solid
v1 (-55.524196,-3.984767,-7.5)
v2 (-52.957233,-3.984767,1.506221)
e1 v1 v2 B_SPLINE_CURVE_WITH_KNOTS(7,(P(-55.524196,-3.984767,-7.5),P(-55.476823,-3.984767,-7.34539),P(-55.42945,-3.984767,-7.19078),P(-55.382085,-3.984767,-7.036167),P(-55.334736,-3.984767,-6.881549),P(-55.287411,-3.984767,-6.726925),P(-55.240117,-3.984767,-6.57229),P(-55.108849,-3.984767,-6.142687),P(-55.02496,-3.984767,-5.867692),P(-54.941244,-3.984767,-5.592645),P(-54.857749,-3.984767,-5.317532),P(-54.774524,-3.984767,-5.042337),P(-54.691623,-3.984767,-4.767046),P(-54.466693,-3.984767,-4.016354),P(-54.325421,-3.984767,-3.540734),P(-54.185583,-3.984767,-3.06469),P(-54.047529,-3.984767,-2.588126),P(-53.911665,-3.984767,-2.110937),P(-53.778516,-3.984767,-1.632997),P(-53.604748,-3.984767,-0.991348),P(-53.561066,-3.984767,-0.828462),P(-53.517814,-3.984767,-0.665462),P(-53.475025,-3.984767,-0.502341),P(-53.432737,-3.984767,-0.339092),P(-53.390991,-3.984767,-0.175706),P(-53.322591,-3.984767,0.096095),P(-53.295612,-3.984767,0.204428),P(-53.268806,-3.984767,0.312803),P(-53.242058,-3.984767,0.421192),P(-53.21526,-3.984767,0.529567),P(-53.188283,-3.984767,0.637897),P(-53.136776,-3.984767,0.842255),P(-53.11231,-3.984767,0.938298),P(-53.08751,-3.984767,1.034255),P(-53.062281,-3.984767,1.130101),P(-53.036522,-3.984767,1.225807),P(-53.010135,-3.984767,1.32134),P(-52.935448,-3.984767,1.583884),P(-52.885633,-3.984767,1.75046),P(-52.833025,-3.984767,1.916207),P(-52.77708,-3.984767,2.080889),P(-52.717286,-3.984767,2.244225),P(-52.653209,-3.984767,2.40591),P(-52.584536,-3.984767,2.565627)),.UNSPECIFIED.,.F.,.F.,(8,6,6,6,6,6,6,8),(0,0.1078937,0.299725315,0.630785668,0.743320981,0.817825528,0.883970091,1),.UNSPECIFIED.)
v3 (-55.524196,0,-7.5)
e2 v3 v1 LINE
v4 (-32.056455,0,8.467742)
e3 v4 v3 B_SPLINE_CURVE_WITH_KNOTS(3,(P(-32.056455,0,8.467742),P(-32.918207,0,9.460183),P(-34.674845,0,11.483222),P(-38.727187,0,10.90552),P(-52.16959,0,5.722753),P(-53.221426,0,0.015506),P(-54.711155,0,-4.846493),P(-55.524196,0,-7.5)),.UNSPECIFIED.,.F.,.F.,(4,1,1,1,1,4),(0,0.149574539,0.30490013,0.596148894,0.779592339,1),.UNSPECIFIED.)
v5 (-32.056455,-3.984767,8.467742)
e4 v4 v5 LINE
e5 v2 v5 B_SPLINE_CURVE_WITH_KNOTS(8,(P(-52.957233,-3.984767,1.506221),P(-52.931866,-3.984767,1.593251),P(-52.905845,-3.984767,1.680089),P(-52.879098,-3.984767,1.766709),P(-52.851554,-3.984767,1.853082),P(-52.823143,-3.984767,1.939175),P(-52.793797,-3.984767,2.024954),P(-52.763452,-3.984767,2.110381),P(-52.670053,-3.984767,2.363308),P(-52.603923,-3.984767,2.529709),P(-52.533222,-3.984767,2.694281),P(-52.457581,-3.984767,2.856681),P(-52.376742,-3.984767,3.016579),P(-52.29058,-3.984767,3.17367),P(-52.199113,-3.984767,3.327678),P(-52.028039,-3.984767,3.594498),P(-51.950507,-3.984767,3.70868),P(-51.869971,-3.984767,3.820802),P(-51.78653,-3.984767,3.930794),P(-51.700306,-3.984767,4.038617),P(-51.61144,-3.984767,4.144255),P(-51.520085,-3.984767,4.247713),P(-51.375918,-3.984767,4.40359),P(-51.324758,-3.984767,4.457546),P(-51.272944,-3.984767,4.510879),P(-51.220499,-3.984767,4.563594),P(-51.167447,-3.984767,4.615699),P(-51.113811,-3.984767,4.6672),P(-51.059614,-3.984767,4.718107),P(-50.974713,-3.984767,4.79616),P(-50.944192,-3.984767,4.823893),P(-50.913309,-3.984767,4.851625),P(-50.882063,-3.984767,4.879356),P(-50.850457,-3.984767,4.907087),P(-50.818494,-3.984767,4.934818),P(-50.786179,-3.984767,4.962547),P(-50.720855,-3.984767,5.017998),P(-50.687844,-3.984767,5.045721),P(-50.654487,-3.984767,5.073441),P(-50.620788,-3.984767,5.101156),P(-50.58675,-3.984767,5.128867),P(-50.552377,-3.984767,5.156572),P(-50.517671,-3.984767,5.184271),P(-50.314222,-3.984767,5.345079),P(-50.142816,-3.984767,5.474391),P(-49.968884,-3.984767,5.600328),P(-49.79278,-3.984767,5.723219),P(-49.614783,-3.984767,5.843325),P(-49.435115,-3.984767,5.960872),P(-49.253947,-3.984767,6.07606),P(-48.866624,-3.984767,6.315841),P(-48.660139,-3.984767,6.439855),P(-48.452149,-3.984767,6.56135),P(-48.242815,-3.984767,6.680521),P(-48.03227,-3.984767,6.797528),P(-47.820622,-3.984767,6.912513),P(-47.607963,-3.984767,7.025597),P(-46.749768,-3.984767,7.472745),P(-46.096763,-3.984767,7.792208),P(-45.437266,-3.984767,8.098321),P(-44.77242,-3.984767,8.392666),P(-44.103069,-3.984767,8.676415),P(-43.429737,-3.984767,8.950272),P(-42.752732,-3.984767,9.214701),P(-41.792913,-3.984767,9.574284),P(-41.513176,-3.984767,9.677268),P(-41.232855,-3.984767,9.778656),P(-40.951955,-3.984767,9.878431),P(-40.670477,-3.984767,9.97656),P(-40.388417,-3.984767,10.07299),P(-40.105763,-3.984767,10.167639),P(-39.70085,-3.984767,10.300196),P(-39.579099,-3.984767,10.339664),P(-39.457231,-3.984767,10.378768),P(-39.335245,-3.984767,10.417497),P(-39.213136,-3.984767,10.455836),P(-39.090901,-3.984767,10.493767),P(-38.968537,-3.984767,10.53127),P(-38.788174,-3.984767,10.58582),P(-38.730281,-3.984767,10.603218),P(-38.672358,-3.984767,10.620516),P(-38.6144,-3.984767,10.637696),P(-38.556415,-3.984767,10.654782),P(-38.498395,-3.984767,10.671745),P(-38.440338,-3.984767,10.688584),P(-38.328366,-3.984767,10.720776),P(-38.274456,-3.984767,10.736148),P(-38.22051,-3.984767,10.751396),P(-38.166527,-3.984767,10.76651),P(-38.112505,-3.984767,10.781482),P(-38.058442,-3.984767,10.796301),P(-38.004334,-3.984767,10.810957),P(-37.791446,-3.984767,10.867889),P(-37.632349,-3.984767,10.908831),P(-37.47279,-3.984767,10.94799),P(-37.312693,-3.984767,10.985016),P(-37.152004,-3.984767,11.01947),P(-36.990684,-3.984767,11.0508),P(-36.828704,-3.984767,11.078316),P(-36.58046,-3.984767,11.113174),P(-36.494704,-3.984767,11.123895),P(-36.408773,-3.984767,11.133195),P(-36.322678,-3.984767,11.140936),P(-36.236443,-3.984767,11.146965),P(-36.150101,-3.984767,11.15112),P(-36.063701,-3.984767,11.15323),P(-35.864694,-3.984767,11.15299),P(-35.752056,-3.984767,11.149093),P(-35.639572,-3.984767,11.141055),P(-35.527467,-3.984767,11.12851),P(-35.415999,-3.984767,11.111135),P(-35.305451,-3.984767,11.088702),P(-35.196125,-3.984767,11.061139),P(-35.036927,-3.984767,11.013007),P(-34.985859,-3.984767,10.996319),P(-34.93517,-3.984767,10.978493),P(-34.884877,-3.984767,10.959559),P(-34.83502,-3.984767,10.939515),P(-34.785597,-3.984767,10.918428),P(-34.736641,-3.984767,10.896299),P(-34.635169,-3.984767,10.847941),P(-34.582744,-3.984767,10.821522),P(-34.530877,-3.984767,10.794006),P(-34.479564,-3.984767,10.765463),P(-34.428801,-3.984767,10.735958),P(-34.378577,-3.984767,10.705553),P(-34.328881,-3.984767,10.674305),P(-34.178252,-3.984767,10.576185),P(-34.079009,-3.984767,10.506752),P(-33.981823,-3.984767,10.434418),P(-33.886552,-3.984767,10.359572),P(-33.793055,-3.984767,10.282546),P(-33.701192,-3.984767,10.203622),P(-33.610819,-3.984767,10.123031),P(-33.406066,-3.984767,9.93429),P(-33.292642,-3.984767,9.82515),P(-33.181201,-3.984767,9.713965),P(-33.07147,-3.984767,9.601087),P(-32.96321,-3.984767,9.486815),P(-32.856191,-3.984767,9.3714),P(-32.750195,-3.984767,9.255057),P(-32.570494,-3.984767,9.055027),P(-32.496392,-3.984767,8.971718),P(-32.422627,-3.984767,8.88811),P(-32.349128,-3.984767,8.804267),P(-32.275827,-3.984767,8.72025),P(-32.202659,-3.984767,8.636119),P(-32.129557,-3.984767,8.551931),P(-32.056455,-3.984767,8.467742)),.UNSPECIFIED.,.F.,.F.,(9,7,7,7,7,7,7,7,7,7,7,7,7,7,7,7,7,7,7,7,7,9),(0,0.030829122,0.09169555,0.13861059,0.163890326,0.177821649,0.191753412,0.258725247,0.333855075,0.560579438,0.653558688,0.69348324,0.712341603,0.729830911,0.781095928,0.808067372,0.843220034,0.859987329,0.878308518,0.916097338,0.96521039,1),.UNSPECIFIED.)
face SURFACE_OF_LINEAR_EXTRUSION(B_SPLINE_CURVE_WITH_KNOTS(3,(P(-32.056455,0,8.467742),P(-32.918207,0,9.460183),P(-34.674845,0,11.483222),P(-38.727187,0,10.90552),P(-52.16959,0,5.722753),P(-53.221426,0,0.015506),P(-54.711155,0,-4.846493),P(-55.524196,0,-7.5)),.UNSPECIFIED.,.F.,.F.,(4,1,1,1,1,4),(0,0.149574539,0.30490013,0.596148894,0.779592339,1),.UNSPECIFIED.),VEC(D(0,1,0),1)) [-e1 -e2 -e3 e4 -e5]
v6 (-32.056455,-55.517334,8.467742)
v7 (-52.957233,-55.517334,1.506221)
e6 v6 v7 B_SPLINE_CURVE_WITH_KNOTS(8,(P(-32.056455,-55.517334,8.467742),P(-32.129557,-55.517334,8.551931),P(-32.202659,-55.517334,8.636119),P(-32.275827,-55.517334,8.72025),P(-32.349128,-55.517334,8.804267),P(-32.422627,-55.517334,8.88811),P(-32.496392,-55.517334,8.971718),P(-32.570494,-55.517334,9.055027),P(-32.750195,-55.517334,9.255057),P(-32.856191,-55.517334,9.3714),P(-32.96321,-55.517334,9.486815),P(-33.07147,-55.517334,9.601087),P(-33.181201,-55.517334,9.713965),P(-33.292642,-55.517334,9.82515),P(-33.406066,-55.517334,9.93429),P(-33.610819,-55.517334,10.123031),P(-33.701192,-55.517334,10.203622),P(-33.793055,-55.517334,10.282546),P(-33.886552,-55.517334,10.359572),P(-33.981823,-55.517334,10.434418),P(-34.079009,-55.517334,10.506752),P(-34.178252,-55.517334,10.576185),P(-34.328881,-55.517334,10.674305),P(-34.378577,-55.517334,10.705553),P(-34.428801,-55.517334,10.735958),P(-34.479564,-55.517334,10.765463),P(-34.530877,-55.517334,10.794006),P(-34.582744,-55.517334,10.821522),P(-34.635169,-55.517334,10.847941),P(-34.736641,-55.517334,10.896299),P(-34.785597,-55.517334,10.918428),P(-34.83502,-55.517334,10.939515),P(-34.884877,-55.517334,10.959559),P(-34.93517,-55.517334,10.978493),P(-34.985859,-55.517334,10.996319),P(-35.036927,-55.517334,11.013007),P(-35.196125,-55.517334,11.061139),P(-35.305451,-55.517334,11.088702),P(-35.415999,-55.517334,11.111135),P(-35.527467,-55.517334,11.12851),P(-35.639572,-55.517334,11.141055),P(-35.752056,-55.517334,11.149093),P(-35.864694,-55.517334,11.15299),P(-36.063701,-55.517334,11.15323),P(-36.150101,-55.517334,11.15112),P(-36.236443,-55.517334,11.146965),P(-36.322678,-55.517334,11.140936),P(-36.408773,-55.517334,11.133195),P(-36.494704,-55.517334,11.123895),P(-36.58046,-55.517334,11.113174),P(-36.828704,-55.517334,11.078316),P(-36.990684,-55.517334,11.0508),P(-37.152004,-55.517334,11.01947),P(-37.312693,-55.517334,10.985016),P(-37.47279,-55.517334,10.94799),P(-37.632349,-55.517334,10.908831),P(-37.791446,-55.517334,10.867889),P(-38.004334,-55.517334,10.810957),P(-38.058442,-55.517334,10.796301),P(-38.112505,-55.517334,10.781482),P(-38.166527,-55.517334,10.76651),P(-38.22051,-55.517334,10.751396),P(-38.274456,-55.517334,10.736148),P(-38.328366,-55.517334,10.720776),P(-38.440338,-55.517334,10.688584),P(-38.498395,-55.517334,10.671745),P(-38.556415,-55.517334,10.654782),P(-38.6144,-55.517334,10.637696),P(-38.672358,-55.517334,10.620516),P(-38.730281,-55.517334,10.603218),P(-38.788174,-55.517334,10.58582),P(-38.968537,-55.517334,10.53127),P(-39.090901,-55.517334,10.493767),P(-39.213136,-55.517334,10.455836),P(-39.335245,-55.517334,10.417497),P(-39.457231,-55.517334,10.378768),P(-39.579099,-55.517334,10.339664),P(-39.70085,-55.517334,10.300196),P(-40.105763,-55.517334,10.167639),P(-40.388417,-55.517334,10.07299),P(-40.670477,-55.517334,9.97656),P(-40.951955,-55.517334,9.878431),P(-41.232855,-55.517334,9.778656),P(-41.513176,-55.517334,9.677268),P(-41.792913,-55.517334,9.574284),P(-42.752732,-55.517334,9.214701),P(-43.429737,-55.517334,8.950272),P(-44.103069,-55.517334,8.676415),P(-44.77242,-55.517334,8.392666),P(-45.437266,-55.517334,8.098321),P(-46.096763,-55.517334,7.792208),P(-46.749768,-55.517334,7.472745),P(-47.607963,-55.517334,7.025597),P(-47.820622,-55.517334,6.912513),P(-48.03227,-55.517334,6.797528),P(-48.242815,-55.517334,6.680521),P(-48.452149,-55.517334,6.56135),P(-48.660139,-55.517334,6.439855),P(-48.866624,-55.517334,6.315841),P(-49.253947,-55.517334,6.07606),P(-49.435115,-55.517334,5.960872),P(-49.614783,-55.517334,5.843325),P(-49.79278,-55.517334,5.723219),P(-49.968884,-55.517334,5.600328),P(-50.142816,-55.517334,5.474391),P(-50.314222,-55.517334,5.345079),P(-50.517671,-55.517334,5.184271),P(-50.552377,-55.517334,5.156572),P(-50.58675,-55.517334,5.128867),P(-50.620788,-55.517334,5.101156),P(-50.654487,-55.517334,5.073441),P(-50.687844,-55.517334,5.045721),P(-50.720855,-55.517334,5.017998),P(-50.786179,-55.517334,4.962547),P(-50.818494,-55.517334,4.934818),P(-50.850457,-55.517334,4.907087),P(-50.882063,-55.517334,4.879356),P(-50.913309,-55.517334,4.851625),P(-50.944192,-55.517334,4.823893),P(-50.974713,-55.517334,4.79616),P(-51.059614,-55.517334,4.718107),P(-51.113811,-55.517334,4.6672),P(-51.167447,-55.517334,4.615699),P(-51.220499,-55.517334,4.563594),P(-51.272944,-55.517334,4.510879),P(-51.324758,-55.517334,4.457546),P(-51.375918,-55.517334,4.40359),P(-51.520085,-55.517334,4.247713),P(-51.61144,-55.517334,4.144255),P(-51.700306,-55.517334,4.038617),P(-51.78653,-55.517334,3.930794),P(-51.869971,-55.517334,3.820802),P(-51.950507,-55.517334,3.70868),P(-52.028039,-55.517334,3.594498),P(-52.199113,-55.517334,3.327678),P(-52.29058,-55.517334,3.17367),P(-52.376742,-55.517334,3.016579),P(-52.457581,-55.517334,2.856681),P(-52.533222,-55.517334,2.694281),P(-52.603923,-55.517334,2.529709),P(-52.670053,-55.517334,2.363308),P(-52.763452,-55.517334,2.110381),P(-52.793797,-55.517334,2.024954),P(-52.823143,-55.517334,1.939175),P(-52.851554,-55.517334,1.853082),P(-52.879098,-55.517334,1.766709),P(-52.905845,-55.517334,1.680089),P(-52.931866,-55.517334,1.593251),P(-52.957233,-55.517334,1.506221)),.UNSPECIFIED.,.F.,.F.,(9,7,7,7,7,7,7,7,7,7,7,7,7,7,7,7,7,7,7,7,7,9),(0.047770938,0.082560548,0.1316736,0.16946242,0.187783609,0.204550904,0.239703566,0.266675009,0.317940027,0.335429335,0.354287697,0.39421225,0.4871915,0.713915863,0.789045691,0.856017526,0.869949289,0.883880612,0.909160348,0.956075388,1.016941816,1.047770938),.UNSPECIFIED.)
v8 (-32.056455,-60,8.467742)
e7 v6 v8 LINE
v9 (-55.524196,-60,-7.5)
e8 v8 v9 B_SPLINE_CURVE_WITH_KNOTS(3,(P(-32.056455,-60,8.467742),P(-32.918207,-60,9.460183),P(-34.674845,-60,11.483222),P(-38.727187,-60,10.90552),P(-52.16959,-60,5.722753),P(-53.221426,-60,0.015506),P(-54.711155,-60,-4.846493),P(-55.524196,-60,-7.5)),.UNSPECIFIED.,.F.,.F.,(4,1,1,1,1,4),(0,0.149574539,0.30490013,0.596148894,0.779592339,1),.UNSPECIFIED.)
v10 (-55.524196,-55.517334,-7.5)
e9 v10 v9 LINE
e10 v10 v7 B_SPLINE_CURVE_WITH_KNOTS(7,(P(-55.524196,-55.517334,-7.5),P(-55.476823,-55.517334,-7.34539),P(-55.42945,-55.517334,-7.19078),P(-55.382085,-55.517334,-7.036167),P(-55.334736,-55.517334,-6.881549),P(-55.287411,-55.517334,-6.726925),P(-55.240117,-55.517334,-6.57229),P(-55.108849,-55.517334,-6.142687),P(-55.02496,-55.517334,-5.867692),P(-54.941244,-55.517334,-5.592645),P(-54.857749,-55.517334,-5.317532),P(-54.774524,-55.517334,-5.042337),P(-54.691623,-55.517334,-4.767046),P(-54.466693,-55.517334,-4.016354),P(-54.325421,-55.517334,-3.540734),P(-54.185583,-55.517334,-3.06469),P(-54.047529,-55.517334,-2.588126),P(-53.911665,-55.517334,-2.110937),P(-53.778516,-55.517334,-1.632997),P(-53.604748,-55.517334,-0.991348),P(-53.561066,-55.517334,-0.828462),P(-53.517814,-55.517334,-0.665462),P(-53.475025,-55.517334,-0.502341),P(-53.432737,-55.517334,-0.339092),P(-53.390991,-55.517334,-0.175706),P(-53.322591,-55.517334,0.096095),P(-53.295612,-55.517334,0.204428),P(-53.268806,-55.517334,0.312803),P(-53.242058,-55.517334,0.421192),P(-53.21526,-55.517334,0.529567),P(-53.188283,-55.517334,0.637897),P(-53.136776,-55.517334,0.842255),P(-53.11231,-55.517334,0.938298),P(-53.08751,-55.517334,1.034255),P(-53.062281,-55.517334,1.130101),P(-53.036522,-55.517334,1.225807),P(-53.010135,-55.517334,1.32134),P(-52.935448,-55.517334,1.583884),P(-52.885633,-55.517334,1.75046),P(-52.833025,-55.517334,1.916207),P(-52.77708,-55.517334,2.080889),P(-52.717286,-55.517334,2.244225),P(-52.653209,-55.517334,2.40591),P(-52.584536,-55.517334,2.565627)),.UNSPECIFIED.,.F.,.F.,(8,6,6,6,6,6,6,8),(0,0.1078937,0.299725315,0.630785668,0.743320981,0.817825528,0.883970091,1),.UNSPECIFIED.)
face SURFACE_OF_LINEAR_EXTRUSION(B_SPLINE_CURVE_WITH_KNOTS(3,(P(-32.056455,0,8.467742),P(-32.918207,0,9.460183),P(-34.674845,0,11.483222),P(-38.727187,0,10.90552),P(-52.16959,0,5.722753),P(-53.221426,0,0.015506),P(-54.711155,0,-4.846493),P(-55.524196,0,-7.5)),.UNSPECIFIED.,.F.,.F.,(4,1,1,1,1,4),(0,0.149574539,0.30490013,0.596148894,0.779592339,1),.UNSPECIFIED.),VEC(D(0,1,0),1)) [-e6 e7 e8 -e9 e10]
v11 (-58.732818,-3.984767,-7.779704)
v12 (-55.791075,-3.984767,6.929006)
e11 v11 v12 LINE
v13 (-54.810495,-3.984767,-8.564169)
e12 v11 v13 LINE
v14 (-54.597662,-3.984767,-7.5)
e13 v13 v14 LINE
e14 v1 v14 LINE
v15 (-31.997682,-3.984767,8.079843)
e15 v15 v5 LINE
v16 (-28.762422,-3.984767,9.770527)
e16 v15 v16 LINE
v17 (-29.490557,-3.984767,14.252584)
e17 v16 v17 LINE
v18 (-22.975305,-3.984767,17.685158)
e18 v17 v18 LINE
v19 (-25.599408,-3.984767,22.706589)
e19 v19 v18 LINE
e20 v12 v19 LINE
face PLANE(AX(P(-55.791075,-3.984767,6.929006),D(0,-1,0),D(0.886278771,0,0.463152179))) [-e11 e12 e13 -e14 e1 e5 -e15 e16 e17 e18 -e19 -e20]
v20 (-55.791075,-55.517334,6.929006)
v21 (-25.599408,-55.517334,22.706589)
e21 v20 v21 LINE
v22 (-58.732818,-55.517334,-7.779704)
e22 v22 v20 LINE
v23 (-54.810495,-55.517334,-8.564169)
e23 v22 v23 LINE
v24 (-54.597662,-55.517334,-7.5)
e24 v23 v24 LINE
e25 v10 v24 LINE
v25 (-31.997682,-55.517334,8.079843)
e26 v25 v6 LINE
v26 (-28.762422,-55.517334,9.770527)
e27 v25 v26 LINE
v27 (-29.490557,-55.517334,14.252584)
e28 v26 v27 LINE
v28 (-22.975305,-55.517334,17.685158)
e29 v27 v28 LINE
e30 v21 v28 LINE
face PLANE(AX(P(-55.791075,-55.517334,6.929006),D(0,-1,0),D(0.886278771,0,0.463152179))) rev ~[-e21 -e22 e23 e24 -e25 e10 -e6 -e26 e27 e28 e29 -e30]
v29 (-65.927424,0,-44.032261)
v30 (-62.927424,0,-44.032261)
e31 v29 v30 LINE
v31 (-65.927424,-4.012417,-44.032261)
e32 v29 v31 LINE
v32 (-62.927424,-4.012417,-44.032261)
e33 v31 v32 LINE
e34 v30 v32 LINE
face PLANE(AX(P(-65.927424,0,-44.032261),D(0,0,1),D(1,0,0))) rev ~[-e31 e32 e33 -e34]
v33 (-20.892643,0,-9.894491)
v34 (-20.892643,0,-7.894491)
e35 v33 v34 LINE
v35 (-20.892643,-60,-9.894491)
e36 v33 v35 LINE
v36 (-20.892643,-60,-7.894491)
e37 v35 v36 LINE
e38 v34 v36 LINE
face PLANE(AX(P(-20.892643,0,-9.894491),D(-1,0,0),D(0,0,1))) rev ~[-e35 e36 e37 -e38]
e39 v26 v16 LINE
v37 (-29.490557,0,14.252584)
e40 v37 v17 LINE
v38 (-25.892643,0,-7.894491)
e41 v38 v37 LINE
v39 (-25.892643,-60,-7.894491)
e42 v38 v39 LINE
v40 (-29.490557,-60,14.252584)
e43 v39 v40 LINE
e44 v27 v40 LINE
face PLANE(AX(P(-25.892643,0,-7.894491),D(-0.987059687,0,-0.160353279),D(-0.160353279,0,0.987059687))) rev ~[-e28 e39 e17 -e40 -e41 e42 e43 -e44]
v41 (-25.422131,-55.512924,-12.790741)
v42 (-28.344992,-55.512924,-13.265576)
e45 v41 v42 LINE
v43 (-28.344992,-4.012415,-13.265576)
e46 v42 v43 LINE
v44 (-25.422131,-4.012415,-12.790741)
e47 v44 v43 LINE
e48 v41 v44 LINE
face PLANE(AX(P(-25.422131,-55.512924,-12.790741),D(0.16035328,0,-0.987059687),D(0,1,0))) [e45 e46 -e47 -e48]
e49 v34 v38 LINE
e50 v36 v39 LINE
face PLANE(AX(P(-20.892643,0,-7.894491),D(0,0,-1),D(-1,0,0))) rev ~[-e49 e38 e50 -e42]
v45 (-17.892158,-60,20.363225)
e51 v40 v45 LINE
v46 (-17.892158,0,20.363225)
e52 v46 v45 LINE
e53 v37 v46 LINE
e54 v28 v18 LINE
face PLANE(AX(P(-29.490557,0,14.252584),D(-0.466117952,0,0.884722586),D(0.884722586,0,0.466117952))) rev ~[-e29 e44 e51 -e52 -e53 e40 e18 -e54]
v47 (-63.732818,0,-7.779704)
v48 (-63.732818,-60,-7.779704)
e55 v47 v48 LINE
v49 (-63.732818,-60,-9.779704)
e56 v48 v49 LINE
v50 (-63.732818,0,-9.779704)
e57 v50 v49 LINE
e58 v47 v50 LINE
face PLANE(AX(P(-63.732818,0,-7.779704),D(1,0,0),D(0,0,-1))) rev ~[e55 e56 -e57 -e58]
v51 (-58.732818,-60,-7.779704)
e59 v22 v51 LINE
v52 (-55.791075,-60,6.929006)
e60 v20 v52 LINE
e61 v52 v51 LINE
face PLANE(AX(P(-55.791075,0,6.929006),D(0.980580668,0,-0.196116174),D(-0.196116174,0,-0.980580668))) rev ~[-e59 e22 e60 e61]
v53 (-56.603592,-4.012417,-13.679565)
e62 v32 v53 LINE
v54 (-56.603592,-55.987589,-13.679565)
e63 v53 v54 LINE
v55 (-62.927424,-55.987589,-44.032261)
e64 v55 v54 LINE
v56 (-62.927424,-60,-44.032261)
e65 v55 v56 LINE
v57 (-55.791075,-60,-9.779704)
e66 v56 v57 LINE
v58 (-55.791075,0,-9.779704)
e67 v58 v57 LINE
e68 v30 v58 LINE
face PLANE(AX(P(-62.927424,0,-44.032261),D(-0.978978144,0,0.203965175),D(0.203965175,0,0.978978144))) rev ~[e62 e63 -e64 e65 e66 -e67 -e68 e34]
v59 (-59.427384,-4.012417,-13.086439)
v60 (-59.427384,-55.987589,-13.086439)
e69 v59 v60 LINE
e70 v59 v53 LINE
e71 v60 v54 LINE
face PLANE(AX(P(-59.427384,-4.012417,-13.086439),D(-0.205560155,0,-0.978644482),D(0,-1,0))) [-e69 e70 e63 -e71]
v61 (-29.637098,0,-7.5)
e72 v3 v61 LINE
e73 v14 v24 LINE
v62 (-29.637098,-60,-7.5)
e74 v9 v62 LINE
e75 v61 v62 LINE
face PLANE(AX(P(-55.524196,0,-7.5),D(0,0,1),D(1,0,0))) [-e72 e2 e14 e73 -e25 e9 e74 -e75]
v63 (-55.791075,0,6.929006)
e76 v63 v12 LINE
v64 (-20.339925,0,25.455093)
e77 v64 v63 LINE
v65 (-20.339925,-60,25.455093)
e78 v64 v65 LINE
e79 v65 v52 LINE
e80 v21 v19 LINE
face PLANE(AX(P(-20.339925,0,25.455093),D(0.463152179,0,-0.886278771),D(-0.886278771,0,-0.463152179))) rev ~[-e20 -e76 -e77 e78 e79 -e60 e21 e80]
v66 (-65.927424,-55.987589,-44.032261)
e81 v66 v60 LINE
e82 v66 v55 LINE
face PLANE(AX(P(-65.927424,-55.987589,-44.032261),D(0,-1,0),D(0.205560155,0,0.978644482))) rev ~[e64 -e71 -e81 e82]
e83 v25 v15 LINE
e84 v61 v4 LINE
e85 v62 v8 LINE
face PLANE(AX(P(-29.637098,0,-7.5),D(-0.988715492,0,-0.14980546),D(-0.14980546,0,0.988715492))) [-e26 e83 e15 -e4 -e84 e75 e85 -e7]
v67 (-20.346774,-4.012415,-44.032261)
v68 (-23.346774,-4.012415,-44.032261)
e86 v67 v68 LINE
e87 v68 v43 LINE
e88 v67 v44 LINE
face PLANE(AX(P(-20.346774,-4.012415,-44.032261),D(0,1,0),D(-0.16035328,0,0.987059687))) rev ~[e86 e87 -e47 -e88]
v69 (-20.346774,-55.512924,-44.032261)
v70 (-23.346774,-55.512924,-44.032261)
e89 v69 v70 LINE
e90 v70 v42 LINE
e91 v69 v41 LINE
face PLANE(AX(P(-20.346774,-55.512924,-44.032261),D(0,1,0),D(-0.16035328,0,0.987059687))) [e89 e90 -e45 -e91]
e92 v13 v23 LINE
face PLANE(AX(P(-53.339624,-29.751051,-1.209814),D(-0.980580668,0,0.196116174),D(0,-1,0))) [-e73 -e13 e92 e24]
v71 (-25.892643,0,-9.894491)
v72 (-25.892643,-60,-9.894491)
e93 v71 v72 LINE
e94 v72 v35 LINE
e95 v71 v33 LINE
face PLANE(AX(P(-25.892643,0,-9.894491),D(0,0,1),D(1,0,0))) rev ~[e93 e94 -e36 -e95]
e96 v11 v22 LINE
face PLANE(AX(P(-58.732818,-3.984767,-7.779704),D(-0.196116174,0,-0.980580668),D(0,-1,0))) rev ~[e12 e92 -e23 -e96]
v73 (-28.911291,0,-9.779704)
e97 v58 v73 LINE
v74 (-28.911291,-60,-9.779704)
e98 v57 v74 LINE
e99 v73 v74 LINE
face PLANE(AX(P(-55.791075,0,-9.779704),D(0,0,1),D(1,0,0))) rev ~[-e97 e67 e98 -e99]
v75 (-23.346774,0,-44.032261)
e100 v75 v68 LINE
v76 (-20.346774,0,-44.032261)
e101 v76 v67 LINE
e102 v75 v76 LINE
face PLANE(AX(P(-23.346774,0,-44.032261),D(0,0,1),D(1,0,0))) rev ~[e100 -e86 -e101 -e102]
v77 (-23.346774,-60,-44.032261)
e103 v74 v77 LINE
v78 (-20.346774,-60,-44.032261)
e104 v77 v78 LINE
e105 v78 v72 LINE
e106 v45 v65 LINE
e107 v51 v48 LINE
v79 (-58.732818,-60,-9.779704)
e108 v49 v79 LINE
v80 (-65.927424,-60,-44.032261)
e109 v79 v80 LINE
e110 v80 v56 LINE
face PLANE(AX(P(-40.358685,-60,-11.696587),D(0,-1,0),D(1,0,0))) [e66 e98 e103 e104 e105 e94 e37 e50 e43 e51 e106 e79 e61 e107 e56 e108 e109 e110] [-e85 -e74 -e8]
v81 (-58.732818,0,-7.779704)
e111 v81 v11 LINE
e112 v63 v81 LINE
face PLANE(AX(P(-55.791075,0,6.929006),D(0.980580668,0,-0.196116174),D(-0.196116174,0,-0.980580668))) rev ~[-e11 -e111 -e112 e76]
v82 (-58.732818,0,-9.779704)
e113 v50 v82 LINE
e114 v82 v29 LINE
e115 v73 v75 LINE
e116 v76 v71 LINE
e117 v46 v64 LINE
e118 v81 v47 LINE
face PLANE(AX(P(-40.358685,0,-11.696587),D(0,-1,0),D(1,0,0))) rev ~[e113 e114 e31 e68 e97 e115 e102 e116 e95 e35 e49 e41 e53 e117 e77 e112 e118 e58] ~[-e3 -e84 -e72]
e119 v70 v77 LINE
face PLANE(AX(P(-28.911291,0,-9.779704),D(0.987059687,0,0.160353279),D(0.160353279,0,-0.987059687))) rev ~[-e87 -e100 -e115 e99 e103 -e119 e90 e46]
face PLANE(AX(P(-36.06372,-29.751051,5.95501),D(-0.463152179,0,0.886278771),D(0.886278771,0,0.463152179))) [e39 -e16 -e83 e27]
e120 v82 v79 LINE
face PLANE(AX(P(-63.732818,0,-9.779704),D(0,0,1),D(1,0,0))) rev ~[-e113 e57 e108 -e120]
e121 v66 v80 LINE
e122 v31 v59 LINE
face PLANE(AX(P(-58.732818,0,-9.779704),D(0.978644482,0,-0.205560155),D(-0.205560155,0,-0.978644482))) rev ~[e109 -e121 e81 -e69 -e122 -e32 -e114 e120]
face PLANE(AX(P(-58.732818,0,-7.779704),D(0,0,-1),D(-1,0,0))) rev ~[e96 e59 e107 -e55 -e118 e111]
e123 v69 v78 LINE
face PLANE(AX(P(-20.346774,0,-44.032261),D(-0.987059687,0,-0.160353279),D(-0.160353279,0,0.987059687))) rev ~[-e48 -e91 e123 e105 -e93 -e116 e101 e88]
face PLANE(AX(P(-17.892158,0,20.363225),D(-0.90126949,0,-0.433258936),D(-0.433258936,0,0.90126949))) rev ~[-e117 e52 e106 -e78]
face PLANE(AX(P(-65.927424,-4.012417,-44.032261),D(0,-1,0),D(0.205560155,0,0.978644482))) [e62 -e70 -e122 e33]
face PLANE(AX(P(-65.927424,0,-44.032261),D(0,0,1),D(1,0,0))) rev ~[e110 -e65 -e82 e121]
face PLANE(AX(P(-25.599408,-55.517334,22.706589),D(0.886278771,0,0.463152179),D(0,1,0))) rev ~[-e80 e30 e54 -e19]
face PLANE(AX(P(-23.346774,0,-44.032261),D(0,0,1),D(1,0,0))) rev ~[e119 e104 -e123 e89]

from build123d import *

# Parameters (mm, degrees)
F2_DEPTH  = 60
F3_DEPTH  = 60
F4_W      = 34.0656559074
F4_H      = 51.5325679444
F5_DEPTH  = 10
F6_W      = 51.5325679444
F6_H      = 15
F7_DEPTH  = 4
F8_W      = 51.9751724787
F8_H      = 31.6211068177
F9_DEPTH  = 15
F10_W     = 51.5005090274
F10_H     = 31.6510945126
F11_DEPTH = 6.8


with BuildPart() as f2:
    # F0 (on Front) → F2 (new body)
    with BuildSketch(Plane.XZ):
        Polygon((-17.8921578123, 20.3632246609), (-20.3399246612, 25.4550932741), (-55.7910754849, 6.9290061191), (-58.7328180983, -7.779703899), (-63.7328180983, -7.779703899), (-63.7328180983, -9.779703899), (-58.7328180983, -9.779703899), (-65.9274235368, -44.0322607756), (-62.9274235368, -44.0322607756), (-55.7910754849, -9.779703899), (-28.9112906903, -9.779703899), (-23.3467742801, -44.0322607756), (-20.3467742801, -44.0322607756), (-25.8926429036, -9.8944909401), (-20.8926429036, -9.8944909401), (-20.8926429036, -7.8944909401), (-25.8926429036, -7.8944909401), (-29.4905570809, 14.25258365), (-20.6433312194, 18.913763174), align=None)
    extrude(amount=F2_DEPTH)

    # F1 (on Front) → F3 (cut)
    with BuildSketch(Plane.XZ):
        with BuildLine():
            add(Edge.make_bspline(
                [(-32.0564545691, 8.4677422419), (-32.9182067785, 9.4601825496), (-34.6748450566, 11.4832219038), (-38.7271868794, 10.9055197371), (-52.1695896145, 5.7227527212), (-53.2214258813, 0.0155056606), (-54.7111549811, -4.8464931653), (-55.5241964757, -7.500000298)],
                knots=[0, 0, 0, 0, 0.1495745389, 0.3049001298, 0.5961488941, 0.7795923388, 1, 1, 1, 1], degree=3))
            Line((-55.5241964757, -7.500000298), (-29.6370983124, -7.500000298))
            Line((-29.6370983124, -7.500000298), (-32.0564545691, 8.4677422419))
        make_face()
    extrude(amount=F3_DEPTH, mode=Mode.SUBTRACT)

    # F4 (on face) → F5 (cut)
    with BuildSketch(Plane(origin=(-14.8119721989, 0, 28.3438945324), x_dir=(0.8862787706, 0, 0.4631521789), z_dir=(-0.4631521789, 0, 0.8862787706))):
        with Locations((-29.2044335556, -29.7510505188)):
            Rectangle(F4_W, F4_H)
    extrude(amount=-F5_DEPTH, mode=Mode.SUBTRACT)

    # F6 (on face) → F7 (cut)
    with BuildSketch(Plane(origin=(-54.9777654657, 0, 10.9955553723), x_dir=(0, -1, 0), z_dir=(-0.9805806679, 0, 0.1961161742))):
        with Locations((29.7510505188, -11.647082832)):
            Rectangle(F6_W, F6_H)
    extrude(amount=-F7_DEPTH, mode=Mode.SUBTRACT)

    # F8 (on face) → F9 (cut)
    with BuildSketch(Plane(origin=(-54.2836781091, 0, 11.4020581632), x_dir=(0, -1, 0), z_dir=(-0.9786444822, 0, 0.2055601554))):
        with Locations((30.0000028219, -40.8334270638)):
            Rectangle(F8_W, F8_H)
    extrude(amount=-F9_DEPTH, mode=Mode.SUBTRACT)

    # F10 (on face) → F11 (cut)
    with BuildSketch(Plane(origin=(-26.7929436535, 0, -4.3526611802), x_dir=(0, 1, 0), z_dir=(0.987059687, 0, 0.1603532795))):
        with Locations((-29.7626692336, -24.3742503009)):
            Rectangle(F10_W, F10_H)
    extrude(amount=-F11_DEPTH, mode=Mode.SUBTRACT)


solid = f2.part
